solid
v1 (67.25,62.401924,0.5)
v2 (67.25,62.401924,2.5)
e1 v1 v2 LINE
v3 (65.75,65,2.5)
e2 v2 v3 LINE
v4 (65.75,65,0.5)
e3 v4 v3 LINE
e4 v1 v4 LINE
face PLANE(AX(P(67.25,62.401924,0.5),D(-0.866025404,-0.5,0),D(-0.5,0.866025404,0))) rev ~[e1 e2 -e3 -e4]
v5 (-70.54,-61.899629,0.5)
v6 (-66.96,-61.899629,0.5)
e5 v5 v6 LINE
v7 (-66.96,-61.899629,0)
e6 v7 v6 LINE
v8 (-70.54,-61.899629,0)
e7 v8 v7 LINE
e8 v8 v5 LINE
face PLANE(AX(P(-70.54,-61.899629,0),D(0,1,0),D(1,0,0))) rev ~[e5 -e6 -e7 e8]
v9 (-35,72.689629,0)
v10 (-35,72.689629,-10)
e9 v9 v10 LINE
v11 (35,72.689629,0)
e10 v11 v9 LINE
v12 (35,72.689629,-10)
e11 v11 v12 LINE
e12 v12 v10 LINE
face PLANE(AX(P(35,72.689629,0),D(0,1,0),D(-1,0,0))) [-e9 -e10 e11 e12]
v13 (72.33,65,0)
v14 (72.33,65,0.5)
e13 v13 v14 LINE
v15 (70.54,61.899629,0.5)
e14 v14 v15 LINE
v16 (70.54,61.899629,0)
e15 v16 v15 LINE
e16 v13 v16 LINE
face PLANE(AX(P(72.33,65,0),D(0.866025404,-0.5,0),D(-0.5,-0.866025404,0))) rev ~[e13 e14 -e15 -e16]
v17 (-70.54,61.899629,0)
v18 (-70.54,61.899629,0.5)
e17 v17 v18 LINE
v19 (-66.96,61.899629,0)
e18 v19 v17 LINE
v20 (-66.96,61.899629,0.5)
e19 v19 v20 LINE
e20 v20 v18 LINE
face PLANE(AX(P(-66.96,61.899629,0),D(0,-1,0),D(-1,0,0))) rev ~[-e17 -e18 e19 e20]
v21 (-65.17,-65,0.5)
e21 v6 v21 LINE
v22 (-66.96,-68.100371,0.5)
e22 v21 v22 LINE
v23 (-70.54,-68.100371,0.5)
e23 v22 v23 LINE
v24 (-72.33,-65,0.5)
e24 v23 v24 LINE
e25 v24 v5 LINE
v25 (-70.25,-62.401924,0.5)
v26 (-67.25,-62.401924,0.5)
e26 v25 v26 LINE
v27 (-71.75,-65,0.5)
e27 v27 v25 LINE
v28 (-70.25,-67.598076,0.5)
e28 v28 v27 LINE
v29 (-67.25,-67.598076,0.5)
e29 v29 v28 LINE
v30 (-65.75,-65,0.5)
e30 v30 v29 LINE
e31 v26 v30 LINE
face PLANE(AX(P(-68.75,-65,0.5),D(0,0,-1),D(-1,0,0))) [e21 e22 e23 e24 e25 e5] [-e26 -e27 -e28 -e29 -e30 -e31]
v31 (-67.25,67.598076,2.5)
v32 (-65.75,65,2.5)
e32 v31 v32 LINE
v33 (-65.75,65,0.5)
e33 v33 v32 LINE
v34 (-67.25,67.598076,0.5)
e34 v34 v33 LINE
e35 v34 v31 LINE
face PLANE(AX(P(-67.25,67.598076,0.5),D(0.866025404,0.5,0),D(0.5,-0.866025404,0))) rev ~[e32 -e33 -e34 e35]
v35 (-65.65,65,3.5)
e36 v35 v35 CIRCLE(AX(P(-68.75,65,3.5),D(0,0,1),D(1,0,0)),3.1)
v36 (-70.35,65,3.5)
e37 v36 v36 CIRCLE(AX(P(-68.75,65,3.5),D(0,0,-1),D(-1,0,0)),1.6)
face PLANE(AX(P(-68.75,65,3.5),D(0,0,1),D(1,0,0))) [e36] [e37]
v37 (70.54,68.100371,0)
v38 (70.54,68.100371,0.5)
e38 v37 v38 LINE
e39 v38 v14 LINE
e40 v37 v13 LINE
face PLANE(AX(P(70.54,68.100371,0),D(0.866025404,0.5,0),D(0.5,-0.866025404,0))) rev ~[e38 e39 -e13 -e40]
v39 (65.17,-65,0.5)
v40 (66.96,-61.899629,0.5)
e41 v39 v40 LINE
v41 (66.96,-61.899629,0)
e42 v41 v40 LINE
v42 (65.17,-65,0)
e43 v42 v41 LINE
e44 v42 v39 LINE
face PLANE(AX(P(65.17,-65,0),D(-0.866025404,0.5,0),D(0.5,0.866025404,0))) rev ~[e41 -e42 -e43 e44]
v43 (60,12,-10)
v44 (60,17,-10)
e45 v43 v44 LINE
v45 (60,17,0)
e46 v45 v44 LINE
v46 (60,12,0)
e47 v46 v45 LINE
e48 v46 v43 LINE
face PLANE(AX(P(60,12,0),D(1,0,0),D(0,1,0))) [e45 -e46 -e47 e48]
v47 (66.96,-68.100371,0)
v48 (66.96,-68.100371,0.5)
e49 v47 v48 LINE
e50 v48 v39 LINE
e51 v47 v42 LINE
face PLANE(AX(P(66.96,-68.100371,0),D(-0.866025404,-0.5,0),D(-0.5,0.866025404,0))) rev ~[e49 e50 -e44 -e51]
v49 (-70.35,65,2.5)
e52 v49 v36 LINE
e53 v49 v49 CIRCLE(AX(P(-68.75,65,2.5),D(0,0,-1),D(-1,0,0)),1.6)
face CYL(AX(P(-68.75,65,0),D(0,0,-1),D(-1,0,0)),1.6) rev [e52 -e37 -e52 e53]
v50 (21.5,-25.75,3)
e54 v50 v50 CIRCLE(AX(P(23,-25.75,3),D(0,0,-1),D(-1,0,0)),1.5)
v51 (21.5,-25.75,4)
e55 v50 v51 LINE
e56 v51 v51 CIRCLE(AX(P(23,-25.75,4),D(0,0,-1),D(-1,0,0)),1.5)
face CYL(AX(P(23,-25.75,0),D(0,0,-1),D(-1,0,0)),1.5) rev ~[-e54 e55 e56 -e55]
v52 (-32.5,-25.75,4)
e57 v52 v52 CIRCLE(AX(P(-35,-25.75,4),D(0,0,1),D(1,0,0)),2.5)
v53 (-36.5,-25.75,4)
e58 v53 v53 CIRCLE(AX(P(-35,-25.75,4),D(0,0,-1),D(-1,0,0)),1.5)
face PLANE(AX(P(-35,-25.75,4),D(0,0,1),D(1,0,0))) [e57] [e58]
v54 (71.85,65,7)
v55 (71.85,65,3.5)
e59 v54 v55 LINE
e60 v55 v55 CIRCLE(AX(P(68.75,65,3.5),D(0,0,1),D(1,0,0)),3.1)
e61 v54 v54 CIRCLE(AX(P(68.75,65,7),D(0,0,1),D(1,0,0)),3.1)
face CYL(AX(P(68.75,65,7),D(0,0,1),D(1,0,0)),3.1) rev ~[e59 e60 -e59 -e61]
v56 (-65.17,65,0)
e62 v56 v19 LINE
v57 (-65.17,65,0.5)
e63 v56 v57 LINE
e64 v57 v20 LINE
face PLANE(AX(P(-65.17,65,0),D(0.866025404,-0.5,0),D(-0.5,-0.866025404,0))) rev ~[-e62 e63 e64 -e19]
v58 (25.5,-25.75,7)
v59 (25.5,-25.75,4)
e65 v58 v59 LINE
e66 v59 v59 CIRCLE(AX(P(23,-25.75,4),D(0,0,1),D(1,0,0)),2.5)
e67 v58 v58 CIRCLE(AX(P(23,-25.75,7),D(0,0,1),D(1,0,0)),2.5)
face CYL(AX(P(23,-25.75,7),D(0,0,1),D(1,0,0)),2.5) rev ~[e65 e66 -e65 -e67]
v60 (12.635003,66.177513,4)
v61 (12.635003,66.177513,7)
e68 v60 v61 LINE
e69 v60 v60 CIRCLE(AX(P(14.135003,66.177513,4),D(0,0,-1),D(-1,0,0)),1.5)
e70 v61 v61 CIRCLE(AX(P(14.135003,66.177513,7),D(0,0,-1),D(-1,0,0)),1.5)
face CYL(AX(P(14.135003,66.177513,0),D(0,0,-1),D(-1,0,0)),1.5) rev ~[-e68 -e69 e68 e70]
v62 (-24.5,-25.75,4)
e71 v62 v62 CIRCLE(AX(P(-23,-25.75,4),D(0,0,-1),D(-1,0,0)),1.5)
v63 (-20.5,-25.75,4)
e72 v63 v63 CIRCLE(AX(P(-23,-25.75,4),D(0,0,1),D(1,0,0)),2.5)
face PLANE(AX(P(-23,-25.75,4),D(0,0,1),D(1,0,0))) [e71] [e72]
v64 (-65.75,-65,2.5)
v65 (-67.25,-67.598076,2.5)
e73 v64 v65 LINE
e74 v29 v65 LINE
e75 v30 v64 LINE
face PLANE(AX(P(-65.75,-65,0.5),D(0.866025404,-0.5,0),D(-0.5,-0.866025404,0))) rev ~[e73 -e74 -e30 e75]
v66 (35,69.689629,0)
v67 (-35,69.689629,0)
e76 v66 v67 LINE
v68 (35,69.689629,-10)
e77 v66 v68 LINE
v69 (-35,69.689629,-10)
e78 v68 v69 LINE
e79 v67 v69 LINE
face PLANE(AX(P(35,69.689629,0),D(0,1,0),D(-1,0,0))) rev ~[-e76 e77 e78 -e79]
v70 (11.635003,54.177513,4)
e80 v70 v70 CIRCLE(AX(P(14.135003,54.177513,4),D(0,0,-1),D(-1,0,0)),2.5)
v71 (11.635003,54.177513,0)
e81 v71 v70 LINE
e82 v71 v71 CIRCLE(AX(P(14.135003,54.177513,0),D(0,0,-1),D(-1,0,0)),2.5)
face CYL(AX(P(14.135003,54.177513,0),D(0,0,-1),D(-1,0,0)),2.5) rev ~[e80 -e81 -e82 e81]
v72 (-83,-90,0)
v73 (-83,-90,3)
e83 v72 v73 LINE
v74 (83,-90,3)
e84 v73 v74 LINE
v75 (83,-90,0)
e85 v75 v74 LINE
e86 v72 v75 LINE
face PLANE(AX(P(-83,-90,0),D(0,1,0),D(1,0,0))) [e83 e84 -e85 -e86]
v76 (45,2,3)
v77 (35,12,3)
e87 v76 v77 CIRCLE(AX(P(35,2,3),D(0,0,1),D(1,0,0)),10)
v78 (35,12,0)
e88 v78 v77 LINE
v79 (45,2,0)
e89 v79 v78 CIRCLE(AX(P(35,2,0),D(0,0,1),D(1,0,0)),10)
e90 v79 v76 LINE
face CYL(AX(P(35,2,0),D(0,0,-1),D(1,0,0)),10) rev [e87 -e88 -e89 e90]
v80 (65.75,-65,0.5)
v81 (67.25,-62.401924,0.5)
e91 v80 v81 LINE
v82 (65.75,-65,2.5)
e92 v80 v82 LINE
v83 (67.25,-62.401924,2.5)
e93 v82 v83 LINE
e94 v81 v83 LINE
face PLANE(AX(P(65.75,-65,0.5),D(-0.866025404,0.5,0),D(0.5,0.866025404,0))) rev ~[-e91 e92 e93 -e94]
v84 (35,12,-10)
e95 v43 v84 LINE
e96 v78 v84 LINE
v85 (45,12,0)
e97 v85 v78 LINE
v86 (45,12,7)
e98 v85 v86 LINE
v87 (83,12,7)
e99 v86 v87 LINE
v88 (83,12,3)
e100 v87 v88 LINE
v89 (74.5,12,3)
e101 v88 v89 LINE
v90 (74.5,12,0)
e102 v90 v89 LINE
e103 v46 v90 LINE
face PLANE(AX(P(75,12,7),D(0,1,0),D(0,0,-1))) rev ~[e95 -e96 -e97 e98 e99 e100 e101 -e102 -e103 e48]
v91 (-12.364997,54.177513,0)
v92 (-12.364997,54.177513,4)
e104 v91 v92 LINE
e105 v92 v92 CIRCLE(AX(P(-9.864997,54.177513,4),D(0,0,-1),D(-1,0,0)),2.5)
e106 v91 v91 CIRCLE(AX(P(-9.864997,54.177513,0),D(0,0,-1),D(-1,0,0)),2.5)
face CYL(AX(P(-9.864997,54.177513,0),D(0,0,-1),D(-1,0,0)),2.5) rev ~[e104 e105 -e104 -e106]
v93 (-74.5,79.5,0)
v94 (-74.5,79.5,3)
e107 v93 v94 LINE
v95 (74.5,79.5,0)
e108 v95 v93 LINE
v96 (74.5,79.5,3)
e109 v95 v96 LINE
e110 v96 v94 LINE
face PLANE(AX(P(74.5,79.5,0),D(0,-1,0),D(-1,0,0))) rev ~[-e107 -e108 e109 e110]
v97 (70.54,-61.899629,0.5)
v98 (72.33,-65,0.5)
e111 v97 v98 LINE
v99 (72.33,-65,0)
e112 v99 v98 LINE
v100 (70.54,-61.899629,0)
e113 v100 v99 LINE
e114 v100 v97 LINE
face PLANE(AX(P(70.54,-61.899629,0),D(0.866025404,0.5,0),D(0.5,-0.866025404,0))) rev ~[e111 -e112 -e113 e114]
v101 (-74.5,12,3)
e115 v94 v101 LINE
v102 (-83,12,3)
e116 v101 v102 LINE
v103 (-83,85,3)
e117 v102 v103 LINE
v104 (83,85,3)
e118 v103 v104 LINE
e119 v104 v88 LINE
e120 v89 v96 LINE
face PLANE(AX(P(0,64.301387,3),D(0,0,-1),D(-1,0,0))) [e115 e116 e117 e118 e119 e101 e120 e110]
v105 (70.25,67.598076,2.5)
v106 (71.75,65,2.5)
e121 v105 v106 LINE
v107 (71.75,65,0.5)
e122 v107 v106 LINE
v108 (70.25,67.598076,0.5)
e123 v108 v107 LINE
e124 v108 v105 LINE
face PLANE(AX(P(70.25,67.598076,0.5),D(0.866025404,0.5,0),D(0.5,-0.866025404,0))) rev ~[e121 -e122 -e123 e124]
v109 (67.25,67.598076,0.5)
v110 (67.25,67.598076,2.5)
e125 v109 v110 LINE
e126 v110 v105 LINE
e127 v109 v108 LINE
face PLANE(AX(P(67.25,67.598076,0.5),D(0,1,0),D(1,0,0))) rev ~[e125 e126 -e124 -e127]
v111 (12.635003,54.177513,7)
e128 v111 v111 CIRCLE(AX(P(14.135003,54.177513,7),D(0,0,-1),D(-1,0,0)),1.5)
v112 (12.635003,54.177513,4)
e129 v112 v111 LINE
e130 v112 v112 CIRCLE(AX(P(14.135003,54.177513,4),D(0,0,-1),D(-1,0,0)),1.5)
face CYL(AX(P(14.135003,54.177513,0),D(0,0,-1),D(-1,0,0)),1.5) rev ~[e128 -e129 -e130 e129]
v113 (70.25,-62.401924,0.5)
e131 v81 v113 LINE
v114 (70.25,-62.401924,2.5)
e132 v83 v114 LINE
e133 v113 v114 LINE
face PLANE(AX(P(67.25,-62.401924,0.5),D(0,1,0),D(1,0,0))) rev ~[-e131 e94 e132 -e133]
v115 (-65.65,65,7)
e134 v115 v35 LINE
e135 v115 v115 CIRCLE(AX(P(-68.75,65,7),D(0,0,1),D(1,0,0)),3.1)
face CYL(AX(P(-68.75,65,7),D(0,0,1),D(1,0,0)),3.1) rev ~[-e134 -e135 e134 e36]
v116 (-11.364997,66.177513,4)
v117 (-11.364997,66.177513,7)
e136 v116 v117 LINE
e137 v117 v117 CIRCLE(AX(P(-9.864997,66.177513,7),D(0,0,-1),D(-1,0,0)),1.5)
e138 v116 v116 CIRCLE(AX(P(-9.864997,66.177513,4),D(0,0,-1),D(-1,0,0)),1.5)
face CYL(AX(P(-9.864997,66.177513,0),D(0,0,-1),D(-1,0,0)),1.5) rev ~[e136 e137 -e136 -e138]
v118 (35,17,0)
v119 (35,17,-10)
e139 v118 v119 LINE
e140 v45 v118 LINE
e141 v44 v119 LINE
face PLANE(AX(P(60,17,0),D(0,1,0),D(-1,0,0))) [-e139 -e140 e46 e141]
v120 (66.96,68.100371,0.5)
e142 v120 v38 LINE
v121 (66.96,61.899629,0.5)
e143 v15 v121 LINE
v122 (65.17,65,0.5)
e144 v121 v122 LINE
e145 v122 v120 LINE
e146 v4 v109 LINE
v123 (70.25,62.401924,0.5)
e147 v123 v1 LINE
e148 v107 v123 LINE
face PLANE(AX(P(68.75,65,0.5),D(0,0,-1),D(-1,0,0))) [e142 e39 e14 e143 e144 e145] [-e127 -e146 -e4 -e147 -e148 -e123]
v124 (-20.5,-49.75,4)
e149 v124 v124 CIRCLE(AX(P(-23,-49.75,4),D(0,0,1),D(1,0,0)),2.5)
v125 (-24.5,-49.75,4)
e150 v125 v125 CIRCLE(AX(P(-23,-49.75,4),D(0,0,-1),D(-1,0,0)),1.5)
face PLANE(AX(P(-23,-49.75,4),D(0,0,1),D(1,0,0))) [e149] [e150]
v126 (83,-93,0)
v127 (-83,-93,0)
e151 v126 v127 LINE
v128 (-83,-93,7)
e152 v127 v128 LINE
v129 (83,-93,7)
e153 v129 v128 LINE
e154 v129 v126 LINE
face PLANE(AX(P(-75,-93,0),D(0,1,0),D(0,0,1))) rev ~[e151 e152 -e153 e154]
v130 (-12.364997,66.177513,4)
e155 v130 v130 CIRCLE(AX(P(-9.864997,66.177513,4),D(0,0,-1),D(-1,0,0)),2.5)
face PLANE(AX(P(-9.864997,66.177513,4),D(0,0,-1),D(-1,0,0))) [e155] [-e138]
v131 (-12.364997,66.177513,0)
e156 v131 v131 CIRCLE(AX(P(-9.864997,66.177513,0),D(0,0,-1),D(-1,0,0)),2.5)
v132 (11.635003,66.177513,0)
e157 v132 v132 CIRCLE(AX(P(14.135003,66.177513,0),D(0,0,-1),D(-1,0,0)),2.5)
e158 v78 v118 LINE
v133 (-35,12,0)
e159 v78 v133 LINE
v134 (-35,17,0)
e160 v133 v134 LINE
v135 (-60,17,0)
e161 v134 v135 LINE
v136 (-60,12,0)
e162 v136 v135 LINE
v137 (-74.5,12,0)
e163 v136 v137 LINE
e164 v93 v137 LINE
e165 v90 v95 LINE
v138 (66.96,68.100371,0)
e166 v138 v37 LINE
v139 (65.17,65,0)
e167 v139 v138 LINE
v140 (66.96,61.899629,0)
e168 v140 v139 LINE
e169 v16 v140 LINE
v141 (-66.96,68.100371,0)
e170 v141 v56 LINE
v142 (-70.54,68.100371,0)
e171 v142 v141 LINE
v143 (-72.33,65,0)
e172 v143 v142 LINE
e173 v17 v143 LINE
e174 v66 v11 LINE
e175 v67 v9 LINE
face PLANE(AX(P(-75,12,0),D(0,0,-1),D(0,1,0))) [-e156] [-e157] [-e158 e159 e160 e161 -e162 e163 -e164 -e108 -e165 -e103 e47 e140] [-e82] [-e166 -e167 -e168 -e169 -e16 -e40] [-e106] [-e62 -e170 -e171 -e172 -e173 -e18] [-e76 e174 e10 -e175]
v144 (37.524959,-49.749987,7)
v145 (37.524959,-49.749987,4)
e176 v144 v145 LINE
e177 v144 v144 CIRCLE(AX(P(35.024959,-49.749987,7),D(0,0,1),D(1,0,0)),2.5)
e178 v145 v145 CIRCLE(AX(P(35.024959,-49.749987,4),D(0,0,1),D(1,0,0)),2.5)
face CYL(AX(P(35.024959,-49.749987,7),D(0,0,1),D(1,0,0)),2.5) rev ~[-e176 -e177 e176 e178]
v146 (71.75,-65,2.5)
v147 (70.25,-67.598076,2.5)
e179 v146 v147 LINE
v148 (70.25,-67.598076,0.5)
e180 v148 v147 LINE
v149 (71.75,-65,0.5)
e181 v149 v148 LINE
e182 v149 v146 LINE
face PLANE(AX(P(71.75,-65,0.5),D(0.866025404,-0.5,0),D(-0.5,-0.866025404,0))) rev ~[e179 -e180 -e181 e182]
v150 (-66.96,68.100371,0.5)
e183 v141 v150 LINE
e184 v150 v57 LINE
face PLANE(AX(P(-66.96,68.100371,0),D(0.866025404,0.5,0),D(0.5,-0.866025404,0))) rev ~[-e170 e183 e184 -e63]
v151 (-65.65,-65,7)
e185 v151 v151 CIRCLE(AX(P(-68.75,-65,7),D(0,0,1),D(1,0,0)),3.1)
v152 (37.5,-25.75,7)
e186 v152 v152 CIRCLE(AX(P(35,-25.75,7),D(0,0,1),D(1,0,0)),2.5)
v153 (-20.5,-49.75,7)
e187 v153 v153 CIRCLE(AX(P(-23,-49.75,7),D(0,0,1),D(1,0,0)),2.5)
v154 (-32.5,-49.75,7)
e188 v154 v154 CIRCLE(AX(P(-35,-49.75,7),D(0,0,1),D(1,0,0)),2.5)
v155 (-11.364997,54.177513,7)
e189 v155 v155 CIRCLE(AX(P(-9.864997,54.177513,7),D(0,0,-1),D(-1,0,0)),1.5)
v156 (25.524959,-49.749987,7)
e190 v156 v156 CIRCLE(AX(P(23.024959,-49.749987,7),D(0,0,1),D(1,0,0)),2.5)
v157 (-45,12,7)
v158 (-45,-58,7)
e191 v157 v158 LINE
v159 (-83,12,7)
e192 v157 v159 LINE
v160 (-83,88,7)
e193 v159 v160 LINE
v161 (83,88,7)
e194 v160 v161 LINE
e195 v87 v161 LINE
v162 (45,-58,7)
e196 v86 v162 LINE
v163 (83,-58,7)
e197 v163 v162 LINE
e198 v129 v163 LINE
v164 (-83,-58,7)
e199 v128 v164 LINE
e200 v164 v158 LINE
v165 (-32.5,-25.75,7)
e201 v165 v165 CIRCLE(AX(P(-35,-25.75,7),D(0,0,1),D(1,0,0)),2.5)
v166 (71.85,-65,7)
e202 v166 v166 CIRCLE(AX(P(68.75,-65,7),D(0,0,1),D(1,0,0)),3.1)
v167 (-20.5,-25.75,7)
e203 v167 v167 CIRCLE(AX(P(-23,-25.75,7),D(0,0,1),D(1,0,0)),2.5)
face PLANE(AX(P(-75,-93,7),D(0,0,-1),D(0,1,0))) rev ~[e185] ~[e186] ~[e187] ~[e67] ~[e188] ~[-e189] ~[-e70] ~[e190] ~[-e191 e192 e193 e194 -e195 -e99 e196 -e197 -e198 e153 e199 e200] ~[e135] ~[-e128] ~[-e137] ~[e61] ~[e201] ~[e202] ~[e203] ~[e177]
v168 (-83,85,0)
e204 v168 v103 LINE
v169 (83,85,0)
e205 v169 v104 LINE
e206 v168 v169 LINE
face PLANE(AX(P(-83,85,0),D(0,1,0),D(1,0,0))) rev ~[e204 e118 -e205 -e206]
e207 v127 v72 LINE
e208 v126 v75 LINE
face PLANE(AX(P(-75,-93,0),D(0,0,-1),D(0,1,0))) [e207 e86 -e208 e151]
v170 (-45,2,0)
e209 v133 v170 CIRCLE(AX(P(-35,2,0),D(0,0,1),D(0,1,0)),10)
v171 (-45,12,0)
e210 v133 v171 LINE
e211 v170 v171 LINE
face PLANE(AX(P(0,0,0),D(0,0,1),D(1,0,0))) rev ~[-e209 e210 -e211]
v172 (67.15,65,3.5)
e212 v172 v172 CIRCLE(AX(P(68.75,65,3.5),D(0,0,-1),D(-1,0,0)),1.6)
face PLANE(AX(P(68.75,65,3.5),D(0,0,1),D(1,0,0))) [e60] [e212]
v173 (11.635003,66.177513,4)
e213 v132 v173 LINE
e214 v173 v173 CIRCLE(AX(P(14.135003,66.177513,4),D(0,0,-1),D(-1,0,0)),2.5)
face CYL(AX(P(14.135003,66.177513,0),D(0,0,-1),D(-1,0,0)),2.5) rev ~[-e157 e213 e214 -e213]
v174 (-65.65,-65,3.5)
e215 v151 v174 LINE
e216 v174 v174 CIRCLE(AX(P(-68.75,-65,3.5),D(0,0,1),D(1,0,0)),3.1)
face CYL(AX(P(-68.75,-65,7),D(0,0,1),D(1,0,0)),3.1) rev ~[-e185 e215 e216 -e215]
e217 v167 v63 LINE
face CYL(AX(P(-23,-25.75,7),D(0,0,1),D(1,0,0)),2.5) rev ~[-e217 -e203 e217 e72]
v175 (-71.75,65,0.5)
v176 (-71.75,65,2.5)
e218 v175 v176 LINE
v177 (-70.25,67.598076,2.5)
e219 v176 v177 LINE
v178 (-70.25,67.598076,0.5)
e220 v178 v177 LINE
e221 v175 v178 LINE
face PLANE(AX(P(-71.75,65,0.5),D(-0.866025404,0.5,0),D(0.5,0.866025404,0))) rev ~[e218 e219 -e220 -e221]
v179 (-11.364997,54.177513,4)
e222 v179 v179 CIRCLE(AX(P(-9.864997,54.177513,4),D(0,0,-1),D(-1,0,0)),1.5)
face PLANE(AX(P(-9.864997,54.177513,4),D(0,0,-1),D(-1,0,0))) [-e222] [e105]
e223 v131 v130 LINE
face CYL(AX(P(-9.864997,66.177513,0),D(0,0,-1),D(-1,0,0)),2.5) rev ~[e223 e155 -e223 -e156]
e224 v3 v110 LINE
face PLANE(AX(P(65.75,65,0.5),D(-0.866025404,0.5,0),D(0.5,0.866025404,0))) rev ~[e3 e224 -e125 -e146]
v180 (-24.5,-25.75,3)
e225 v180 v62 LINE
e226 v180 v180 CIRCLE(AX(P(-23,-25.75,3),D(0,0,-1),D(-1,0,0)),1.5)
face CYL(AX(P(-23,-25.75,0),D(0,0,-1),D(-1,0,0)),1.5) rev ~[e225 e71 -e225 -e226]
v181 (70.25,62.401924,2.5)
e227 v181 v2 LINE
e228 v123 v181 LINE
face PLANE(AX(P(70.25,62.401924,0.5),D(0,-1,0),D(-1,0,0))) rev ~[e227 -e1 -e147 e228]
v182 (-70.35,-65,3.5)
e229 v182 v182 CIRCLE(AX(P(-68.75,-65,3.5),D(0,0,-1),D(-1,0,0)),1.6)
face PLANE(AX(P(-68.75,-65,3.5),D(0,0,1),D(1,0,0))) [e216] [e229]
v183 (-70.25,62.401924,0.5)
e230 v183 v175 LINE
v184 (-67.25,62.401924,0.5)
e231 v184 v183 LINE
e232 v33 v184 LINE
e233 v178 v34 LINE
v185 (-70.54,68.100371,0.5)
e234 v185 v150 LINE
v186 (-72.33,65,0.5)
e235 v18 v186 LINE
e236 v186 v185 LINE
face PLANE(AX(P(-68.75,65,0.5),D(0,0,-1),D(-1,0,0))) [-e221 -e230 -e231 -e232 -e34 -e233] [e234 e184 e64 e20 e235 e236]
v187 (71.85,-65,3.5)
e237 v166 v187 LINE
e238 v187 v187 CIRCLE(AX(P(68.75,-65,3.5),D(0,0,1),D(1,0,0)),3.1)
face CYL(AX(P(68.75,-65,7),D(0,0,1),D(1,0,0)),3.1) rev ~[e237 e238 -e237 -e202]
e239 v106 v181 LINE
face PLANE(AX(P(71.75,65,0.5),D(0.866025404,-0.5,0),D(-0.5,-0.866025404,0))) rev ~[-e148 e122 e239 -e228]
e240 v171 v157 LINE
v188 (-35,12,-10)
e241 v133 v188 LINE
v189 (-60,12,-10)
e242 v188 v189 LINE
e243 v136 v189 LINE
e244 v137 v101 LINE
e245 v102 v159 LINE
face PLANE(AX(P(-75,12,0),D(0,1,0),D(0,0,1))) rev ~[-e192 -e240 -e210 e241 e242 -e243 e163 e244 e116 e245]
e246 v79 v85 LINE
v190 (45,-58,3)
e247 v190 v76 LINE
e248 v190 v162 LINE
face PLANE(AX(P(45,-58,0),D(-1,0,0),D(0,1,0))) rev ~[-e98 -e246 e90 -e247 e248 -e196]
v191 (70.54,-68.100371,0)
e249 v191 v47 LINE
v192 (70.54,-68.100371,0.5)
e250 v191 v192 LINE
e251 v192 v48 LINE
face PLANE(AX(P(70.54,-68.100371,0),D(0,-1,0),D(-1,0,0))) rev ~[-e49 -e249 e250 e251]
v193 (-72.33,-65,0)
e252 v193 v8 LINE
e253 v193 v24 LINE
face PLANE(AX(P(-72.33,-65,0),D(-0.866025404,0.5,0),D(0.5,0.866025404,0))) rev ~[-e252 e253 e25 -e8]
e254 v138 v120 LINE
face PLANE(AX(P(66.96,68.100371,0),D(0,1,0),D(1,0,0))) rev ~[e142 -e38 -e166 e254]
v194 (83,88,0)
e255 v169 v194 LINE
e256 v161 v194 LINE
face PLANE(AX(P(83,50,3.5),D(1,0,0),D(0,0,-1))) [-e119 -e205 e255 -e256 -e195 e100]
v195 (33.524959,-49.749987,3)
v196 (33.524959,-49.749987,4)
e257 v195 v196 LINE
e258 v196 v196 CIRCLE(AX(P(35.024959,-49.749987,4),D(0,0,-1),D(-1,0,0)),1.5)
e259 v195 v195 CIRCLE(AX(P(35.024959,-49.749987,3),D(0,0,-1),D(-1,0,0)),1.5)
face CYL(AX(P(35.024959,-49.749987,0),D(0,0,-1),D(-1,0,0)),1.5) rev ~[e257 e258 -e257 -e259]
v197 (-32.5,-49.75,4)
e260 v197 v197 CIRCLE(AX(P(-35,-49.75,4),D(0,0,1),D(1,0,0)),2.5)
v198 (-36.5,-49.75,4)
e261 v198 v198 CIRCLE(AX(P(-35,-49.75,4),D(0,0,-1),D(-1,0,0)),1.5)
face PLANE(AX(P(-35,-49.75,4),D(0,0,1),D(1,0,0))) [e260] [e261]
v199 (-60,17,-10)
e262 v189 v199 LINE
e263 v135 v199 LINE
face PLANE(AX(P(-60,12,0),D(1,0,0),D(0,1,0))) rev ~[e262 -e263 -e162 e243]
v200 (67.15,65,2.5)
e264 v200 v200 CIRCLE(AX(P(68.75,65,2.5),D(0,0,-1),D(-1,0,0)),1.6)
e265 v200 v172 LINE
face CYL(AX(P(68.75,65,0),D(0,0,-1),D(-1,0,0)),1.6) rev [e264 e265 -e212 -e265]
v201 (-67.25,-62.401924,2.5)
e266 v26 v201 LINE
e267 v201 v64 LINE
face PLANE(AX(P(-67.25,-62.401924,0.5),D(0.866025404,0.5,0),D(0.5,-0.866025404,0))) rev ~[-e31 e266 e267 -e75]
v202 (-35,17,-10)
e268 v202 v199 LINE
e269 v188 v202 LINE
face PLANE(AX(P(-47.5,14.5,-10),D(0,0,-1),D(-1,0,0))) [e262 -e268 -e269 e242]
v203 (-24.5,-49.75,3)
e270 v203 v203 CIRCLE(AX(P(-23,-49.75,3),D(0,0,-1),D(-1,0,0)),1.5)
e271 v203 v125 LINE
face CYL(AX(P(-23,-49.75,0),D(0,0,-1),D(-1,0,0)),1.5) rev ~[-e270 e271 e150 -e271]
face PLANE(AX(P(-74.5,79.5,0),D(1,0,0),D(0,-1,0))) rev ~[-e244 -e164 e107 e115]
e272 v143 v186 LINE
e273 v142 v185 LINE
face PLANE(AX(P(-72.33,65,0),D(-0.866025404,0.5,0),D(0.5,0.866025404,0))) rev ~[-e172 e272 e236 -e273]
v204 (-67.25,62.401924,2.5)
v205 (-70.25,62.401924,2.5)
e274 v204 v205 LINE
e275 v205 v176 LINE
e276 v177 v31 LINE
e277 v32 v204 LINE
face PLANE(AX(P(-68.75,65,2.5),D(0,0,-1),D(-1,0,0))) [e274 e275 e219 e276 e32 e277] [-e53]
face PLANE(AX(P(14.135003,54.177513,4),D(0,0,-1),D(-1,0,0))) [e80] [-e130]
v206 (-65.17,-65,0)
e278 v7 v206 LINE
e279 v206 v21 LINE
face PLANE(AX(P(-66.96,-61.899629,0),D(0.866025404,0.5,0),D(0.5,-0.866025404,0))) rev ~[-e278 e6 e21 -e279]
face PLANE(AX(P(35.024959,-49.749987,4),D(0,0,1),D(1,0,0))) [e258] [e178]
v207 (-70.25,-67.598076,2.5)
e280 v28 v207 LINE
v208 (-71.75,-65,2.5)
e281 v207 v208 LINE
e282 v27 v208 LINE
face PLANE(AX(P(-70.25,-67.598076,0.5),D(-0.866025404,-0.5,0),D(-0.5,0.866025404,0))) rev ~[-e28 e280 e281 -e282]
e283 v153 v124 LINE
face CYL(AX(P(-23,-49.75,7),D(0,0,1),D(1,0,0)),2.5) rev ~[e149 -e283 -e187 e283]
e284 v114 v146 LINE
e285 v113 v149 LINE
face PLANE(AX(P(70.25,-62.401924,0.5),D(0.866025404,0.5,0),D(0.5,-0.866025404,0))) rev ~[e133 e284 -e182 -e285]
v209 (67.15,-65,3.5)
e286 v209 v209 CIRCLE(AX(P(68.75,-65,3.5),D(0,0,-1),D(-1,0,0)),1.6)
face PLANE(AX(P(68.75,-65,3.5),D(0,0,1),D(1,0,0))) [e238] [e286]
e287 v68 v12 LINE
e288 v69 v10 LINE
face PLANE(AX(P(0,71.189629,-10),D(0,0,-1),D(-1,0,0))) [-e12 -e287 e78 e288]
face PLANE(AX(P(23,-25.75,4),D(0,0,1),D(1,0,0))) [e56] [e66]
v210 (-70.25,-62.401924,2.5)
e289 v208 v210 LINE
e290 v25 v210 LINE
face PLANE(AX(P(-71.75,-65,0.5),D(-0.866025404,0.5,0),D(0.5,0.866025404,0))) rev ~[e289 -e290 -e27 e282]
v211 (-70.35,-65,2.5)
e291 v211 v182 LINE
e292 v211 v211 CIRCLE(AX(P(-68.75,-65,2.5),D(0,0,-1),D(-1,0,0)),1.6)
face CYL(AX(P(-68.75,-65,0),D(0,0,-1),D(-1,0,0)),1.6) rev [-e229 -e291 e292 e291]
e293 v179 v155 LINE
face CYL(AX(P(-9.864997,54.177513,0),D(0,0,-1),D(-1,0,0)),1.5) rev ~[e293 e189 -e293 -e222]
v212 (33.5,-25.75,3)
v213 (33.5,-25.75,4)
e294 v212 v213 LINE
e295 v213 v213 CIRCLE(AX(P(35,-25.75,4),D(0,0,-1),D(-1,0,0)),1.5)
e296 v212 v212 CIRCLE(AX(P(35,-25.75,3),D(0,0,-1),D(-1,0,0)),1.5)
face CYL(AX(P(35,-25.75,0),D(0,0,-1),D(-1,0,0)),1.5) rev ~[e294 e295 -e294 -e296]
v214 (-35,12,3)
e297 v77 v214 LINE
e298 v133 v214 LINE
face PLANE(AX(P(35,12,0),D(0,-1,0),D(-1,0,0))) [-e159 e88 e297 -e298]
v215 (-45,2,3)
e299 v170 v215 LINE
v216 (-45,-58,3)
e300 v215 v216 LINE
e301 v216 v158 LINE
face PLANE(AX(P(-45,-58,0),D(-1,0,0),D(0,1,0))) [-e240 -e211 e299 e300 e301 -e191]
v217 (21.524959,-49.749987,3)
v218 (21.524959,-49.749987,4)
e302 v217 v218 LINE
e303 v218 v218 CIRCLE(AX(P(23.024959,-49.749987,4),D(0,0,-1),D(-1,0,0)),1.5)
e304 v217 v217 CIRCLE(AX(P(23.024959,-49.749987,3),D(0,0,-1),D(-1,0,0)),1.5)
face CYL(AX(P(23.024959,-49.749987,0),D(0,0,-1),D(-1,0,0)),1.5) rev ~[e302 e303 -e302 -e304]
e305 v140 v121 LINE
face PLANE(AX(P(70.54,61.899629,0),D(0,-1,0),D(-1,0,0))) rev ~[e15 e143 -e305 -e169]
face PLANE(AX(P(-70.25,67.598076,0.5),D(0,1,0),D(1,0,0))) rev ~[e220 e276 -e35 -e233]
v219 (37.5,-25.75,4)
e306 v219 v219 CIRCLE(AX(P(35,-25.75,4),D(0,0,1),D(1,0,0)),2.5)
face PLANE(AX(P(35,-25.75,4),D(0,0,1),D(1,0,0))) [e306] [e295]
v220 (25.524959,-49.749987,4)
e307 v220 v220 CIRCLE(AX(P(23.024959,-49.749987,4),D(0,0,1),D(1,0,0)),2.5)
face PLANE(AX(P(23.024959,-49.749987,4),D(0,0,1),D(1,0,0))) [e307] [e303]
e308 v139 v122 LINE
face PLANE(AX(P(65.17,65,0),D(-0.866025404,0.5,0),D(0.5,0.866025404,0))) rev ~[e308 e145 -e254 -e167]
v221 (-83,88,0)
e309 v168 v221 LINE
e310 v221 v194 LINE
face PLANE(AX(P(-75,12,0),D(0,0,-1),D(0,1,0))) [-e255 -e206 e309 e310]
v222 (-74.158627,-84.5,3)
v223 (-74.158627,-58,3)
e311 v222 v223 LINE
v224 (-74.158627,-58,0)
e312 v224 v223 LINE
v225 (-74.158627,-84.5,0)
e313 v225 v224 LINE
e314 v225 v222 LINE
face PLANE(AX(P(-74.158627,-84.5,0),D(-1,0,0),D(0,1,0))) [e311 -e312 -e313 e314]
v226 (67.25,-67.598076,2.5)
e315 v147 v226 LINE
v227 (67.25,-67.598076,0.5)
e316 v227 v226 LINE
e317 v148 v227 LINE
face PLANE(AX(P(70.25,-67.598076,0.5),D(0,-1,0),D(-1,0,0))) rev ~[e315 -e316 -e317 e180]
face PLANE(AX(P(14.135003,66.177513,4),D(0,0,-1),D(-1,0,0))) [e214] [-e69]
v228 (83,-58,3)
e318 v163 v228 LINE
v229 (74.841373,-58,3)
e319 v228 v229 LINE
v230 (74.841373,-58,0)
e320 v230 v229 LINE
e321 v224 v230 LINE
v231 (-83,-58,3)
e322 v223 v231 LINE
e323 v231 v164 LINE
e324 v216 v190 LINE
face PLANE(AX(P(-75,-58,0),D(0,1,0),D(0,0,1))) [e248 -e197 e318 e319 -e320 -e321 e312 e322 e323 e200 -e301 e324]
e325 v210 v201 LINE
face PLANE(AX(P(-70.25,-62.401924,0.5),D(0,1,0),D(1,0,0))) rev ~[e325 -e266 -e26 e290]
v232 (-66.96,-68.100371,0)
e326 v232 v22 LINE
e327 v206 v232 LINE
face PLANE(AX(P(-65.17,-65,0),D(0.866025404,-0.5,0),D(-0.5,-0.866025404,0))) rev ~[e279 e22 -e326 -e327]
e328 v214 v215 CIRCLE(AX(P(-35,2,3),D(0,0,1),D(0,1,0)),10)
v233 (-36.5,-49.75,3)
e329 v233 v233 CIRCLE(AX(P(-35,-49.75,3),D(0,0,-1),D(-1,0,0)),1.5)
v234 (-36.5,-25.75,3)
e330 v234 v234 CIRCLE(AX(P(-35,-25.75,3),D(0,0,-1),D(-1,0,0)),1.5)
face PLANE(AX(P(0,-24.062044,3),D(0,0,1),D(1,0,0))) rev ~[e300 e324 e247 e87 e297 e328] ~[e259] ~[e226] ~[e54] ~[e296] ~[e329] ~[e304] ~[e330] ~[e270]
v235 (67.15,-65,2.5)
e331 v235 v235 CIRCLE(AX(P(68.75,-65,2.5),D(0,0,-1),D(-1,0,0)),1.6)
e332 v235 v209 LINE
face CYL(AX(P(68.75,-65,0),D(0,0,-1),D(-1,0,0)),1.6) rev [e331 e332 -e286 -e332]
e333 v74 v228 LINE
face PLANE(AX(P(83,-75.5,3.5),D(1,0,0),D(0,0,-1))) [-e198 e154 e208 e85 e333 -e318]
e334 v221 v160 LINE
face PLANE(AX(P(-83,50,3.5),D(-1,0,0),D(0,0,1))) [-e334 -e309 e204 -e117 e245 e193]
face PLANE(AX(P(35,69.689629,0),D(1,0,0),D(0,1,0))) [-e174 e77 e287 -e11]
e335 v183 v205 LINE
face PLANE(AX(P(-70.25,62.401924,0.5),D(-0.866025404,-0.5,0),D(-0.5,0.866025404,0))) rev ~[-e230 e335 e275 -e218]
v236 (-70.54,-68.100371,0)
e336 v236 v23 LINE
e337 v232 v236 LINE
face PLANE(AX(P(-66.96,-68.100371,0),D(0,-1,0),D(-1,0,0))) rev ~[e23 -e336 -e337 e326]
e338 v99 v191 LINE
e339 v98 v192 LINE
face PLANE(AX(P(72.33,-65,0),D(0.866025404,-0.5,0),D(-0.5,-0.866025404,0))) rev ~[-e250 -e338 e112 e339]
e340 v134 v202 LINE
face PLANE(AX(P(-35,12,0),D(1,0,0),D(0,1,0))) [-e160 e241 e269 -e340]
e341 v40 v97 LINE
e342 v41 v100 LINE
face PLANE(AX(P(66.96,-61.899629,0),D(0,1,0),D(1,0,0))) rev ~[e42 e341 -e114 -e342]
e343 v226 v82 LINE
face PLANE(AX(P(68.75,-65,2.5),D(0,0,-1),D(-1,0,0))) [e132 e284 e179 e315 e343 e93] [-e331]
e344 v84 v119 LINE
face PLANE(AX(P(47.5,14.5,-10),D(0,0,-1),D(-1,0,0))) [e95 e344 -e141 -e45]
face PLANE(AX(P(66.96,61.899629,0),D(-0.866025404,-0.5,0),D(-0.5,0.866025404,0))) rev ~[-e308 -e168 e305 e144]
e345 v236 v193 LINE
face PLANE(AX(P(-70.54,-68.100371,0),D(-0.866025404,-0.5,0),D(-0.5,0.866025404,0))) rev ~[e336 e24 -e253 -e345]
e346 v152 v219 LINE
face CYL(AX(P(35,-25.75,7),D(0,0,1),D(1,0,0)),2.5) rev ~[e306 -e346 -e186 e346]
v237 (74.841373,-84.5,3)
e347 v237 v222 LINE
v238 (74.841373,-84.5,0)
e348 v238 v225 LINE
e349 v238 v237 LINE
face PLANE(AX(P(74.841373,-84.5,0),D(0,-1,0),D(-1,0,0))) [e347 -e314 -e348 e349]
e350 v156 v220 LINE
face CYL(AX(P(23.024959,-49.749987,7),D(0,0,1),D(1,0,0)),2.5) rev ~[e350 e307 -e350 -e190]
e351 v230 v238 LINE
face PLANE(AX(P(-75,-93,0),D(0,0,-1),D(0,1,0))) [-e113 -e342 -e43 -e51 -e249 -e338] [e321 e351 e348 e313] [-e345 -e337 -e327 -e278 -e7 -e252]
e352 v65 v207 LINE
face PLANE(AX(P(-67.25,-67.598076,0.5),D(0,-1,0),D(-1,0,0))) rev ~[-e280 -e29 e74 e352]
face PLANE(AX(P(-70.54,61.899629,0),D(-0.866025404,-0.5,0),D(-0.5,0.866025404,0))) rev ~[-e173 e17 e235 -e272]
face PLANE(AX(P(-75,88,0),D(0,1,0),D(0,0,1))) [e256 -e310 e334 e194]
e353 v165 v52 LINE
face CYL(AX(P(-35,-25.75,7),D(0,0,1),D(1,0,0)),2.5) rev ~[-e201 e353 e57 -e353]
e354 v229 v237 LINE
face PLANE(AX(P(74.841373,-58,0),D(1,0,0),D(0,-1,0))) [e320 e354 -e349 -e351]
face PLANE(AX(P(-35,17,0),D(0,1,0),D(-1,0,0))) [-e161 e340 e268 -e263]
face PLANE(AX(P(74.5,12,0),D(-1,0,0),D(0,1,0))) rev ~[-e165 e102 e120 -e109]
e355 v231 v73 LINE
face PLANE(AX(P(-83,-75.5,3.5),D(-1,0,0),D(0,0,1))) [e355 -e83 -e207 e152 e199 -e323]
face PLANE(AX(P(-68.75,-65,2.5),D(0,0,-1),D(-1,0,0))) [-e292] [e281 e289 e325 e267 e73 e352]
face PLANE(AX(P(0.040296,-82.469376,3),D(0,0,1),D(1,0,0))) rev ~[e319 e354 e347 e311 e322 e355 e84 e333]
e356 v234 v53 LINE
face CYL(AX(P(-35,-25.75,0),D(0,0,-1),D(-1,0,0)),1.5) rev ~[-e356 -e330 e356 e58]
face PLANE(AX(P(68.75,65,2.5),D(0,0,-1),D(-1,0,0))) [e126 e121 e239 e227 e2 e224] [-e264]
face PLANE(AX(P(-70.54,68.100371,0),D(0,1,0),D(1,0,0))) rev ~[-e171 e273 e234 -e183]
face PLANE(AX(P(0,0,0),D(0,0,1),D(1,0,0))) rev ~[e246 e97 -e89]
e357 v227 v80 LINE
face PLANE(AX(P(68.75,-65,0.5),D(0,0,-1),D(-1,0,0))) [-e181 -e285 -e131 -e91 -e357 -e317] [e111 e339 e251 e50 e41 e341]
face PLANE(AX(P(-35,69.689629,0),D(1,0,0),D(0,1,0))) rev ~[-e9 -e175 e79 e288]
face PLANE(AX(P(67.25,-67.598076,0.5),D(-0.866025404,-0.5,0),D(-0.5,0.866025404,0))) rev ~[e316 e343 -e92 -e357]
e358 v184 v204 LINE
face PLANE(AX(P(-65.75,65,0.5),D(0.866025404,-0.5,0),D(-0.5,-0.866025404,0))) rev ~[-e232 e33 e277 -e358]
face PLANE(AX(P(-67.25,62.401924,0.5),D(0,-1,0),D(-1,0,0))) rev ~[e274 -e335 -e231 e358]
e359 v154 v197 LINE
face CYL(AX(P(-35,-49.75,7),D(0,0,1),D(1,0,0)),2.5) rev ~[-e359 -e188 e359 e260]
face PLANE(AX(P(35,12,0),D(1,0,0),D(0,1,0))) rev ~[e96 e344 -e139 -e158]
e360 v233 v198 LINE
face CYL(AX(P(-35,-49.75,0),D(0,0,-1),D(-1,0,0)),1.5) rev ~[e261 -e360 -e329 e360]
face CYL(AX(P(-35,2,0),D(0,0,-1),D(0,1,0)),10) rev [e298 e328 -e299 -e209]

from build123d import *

# Parameters (mm, degrees)
SKETCH_1_W           = 150
SKETCH_1_H           = 160
EXTRUDE_1_DEPTH      = 7
SKETCH_2_W           = 30
SKETCH_2_H           = 70
CUT_EXTRUDE_1_DEPTH  = 10
SKETCH_3_R           = 1.5
CUT_EXTRUDE_2_DEPTH  = 10
SKETCH_4_R           = 1.5
CUT_EXTRUDE_3_DEPTH  = 10
SKETCH_5_R           = 2.5
CUT_EXTRUDE_4_DEPTH  = 3
SKETCH_6_R           = 1.5
CUT_EXTRUDE_5_DEPTH  = 10
CUT_EXTRUDE_6_DEPTH  = 0.5
SKETCH_10_W          = 70
SKETCH_10_H          = 3
EXTRUDE_2_DEPTH      = 10
CUT_EXTRUDE_11_DEPTH = 3
SKETCH_13_W          = 150
SKETCH_13_H          = 7
EXTRUDE_4_DEPTH      = 13
SKETCH_14_W          = 25
SKETCH_14_H          = 5
EXTRUDE_5_DEPTH      = 10
SKETCH_17_W          = 150
SKETCH_17_H          = 7
EXTRUDE_6_DEPTH      = 8
SKETCH_19_W          = 7
SKETCH_19_H          = 76
EXTRUDE_8_DEPTH      = 8
SKETCH_20_W          = 7
SKETCH_20_H          = 76
EXTRUDE_9_DEPTH      = 8
CUT_EXTRUDE_14_DEPTH = 3
SKETCH_27_W          = 7
SKETCH_27_H          = 35
EXTRUDE_14_DEPTH     = 8
SKETCH_28_W          = 7
SKETCH_28_H          = 35
EXTRUDE_15_DEPTH     = 8
CUT_EXTRUDE_15_DEPTH = 3
CUT_EXTRUDE_16_DEPTH = 2
SKETCH_30_R          = 1.6
CUT_EXTRUDE_17_DEPTH = 7
SKETCH_31_R          = 3.1
CUT_EXTRUDE_18_DEPTH = 3.5
SKETCH_32_R          = 2.5
CUT_EXTRUDE_19_DEPTH = 4


with BuildPart() as part:
    # 草圖1 → 填料-伸長1 (new body)
    with BuildSketch(Plane.XY):
        Rectangle(SKETCH_1_W, SKETCH_1_H)
    extrude(amount=EXTRUDE_1_DEPTH)

    # 草圖2 → 除料-伸長1 (cut)
    with BuildSketch(Plane(origin=(0, 0, 0), x_dir=(-1, 0, 0), z_dir=(0, 0, -1))):
        with Locations((-60, -23)):
            Rectangle(SKETCH_2_W, SKETCH_2_H)
        with Locations((60, -23)):
            Rectangle(SKETCH_2_W, SKETCH_2_H)
    extrude(amount=-CUT_EXTRUDE_1_DEPTH, mode=Mode.SUBTRACT)

    # 草圖3 → 除料-伸長2 (cut)
    with BuildSketch(Plane(origin=(0, 0, 0), x_dir=(-1, 0, 0), z_dir=(0, 0, -1))):
        with Locations((-35, -25.75)):
            Circle(SKETCH_3_R)
        with Locations((-23, -25.75)):
            Circle(SKETCH_3_R)
        with Locations((-35.024958581, -49.749987022)):
            Circle(SKETCH_3_R)
        with Locations((-23.024958581, -49.749987022)):
            Circle(SKETCH_3_R)
    extrude(amount=-CUT_EXTRUDE_2_DEPTH, mode=Mode.SUBTRACT)

    # 草圖4 → 除料-伸長3 (cut)
    with BuildSketch(Plane(origin=(0, 0, 0), x_dir=(-1, 0, 0), z_dir=(0, 0, -1))):
        with Locations((35, -25.75)):
            Circle(SKETCH_4_R)
        with Locations((23, -25.75)):
            Circle(SKETCH_4_R)
        with Locations((35, -49.75)):
            Circle(SKETCH_4_R)
        with Locations((23, -49.75)):
            Circle(SKETCH_4_R)
    extrude(amount=-CUT_EXTRUDE_3_DEPTH, mode=Mode.SUBTRACT)

    # 草圖5 → 除料-伸長4 (cut)
    with BuildSketch(Plane.XY.offset(7)):
        with Locations((-35, -25.75)):
            Circle(SKETCH_5_R)
        with Locations((-23, -25.75)):
            Circle(SKETCH_5_R)
        with Locations((-35, -49.75)):
            Circle(SKETCH_5_R)
        with Locations((-23, -49.75)):
            Circle(SKETCH_5_R)
        with Locations((23.024958581, -49.749987022)):
            Circle(SKETCH_5_R)
        with Locations((35.024958581, -49.749987022)):
            Circle(SKETCH_5_R)
        with Locations((35, -25.75)):
            Circle(SKETCH_5_R)
        with Locations((23, -25.75)):
            Circle(SKETCH_5_R)
    extrude(amount=-CUT_EXTRUDE_4_DEPTH, mode=Mode.SUBTRACT)

    # 草圖6 → 除料-伸長5 (cut)
    with BuildSketch(Plane(origin=(0, 0, 0), x_dir=(-1, 0, 0), z_dir=(0, 0, -1))):
        with Locations((-14.13500283, 66.177513248)):
            Circle(SKETCH_6_R)
        with Locations((9.86499717, 66.177513248)):
            Circle(SKETCH_6_R)
        with Locations((9.86499717, 54.177513248)):
            Circle(SKETCH_6_R)
        with Locations((-14.13500283, 54.177513248)):
            Circle(SKETCH_6_R)
    extrude(amount=-CUT_EXTRUDE_5_DEPTH, mode=Mode.SUBTRACT)

    # 草圖7 → 除料-伸長6 (cut)
    with BuildSketch(Plane(origin=(0, 0, 0), x_dir=(-1, 0, 0), z_dir=(0, 0, -1))):
        Polygon((72.33, -65), (70.54, -61.899629054), (66.96, -61.899629054), (65.17, -65), (66.96, -68.100370946), (70.54, -68.100370946), align=None)
        Polygon((72.33, 65), (70.54, 68.100370946), (66.96, 68.100370946), (65.17, 65), (66.96, 61.899629054), (70.54, 61.899629054), align=None)
        Polygon((-65.17, 65), (-66.96, 68.100370946), (-70.54, 68.100370946), (-72.33, 65), (-70.54, 61.899629054), (-66.96, 61.899629054), align=None)
        Polygon((-65.17, -65), (-66.96, -61.899629054), (-70.54, -61.899629054), (-72.33, -65), (-70.54, -68.100370946), (-66.96, -68.100370946), align=None)
    extrude(amount=-CUT_EXTRUDE_6_DEPTH, mode=Mode.SUBTRACT)

    # 草圖10 → 填料-伸長2 (add)
    with BuildSketch(Plane(origin=(0, 0, 0), x_dir=(-1, 0, 0), z_dir=(0, 0, -1))):
        with Locations((0, 71.189628596)):
            Rectangle(SKETCH_10_W, SKETCH_10_H)
    extrude(amount=EXTRUDE_2_DEPTH)

    # 草圖11 → 除料-伸長11 (cut)
    with BuildSketch(Plane(origin=(0, 0, 0), x_dir=(-1, 0, 0), z_dir=(0, 0, -1))):
        with BuildLine():
            Line((-35, 12), (35, 12))
            ThreePointArc((35, 12), (42.071067812, 9.071067812), (45, 2))
            Line((45, 2), (45, -58))
            Line((45, -58), (-45, -58))
            Line((-45, -58), (-45, 2))
            ThreePointArc((-45, 2), (-42.071067812, 9.071067812), (-35, 12))
        make_face()
    extrude(amount=-CUT_EXTRUDE_11_DEPTH, mode=Mode.SUBTRACT)

    # 草圖13 → 填料-伸長4 (add)
    with BuildSketch(Plane.XZ.offset(80)):
        with Locations((0, 3.5)):
            Rectangle(SKETCH_13_W, SKETCH_13_H)
    extrude(amount=EXTRUDE_4_DEPTH)

    # 草圖14 → 填料-伸長5 (add)
    with BuildSketch(Plane(origin=(0, 0, 0), x_dir=(-1, 0, 0), z_dir=(0, 0, -1))):
        with Locations((-47.5, 14.5)):
            Rectangle(SKETCH_14_W, SKETCH_14_H)
        with Locations((47.5, 14.5)):
            Rectangle(SKETCH_14_W, SKETCH_14_H)
    extrude(amount=EXTRUDE_5_DEPTH)

    # 草圖17 → 填料-伸長6 (add)
    with BuildSketch(Plane(origin=(0, 80, 0), x_dir=(1, 0, 0), z_dir=(0, 1, 0))):
        with Locations((0, -3.5)):
            Rectangle(SKETCH_17_W, SKETCH_17_H)
    extrude(amount=EXTRUDE_6_DEPTH)

    # 草圖19 → 填料-伸長8 (add)
    with BuildSketch(Plane(origin=(75, 0, 0), x_dir=(0, 0, -1), z_dir=(1, 0, 0))):
        with Locations((-3.5, 50)):
            Rectangle(SKETCH_19_W, SKETCH_19_H)
    extrude(amount=EXTRUDE_8_DEPTH)

    # 草圖20 → 填料-伸長9 (add)
    with BuildSketch(Plane.ZY.offset(75)):
        with Locations((3.5, 50)):
            Rectangle(SKETCH_20_W, SKETCH_20_H)
    extrude(amount=EXTRUDE_9_DEPTH)

    # 草圖26 → 除料-伸長14 (cut)
    with BuildSketch(Plane(origin=(0, 0, 0), x_dir=(-1, 0, 0), z_dir=(0, 0, -1))):
        Polygon((-83, 85), (-83, 12), (-74.5, 12), (-74.5, 79.5), (74.5, 79.5), (74.5, 12), (83, 12), (83, 85), align=None)
    extrude(amount=-CUT_EXTRUDE_14_DEPTH, mode=Mode.SUBTRACT)

    # 草圖27 → 填料-伸長14 (add)
    with BuildSketch(Plane(origin=(75, 0, 0), x_dir=(0, 0, -1), z_dir=(1, 0, 0))):
        with Locations((-3.5, -75.5)):
            Rectangle(SKETCH_27_W, SKETCH_27_H)
    extrude(amount=EXTRUDE_14_DEPTH)

    # 草圖28 → 填料-伸長15 (add)
    with BuildSketch(Plane.ZY.offset(75)):
        with Locations((3.5, -75.5)):
            Rectangle(SKETCH_28_W, SKETCH_28_H)
    extrude(amount=EXTRUDE_15_DEPTH)

    # 草圖29 → 除料-伸長15 (cut)
    with BuildSketch(Plane(origin=(0, 0, 0), x_dir=(-1, 0, 0), z_dir=(0, 0, -1))):
        Polygon((83, -58), (83, -90), (-83, -90), (-83, -58), (-74.841372547, -58), (-74.841372547, -84.5), (74.158627453, -84.5), (74.158627453, -58), align=None)
    extrude(amount=-CUT_EXTRUDE_15_DEPTH, mode=Mode.SUBTRACT)

    # 草圖8 → 除料-伸長16 (cut)
    with BuildSketch(Plane(origin=(0, 0, 0.5), x_dir=(-1, 0, 0), z_dir=(0, 0, -1))):
        Polygon((-65.75, 65), (-67.25, 67.598076211), (-70.25, 67.598076211), (-71.75, 65), (-70.25, 62.401923789), (-67.25, 62.401923789), align=None)
        Polygon((71.75, 65), (70.25, 67.598076211), (67.25, 67.598076211), (65.75, 65), (67.25, 62.401923789), (70.25, 62.401923789), align=None)
        Polygon((-65.75, -65), (-67.25, -62.401923789), (-70.25, -62.401923789), (-71.75, -65), (-70.25, -67.598076211), (-67.25, -67.598076211), align=None)
        Polygon((71.75, -65), (70.25, -62.401923789), (67.25, -62.401923789), (65.75, -65), (67.25, -67.598076211), (70.25, -67.598076211), align=None)
    extrude(amount=-CUT_EXTRUDE_16_DEPTH, mode=Mode.SUBTRACT)

    # 草圖30 → 除料-伸長17 (cut)
    with BuildSketch(Plane.XY):
        with Locations(Location((68.75, -65, 0), (0, 0, 180))):
            Circle(SKETCH_30_R)
        with Locations(Location((68.75, 65, 0), (0, 0, 180))):
            Circle(SKETCH_30_R)
        with Locations(Location((-68.75, -65, 0), (0, 0, 180))):
            Circle(SKETCH_30_R)
        with Locations(Location((-68.75, 65, 0), (0, 0, 180))):
            Circle(SKETCH_30_R)
    extrude(amount=CUT_EXTRUDE_17_DEPTH, mode=Mode.SUBTRACT)

    # 草圖31 → 除料-伸長18 (cut)
    with BuildSketch(Plane.XY.offset(7)):
        with Locations((-68.75, 65)):
            Circle(SKETCH_31_R)
        with Locations((-68.75, -65)):
            Circle(SKETCH_31_R)
        with Locations((68.75, -65)):
            Circle(SKETCH_31_R)
        with Locations((68.75, 65)):
            Circle(SKETCH_31_R)
    extrude(amount=-CUT_EXTRUDE_18_DEPTH, mode=Mode.SUBTRACT)

    # 草圖32 → 除料-伸長19 (cut)
    with BuildSketch(Plane(origin=(0, 0, 0), x_dir=(-1, 0, 0), z_dir=(0, 0, -1))):
        with Locations((-14.13500283, 66.177513248)):
            Circle(SKETCH_32_R)
        with Locations((-14.13500283, 54.177513248)):
            Circle(SKETCH_32_R)
        with Locations((9.86499717, 54.177513248)):
            Circle(SKETCH_32_R)
        with Locations((9.86499717, 66.177513248)):
            Circle(SKETCH_32_R)
    extrude(amount=-CUT_EXTRUDE_19_DEPTH, mode=Mode.SUBTRACT)


solid = part.part
